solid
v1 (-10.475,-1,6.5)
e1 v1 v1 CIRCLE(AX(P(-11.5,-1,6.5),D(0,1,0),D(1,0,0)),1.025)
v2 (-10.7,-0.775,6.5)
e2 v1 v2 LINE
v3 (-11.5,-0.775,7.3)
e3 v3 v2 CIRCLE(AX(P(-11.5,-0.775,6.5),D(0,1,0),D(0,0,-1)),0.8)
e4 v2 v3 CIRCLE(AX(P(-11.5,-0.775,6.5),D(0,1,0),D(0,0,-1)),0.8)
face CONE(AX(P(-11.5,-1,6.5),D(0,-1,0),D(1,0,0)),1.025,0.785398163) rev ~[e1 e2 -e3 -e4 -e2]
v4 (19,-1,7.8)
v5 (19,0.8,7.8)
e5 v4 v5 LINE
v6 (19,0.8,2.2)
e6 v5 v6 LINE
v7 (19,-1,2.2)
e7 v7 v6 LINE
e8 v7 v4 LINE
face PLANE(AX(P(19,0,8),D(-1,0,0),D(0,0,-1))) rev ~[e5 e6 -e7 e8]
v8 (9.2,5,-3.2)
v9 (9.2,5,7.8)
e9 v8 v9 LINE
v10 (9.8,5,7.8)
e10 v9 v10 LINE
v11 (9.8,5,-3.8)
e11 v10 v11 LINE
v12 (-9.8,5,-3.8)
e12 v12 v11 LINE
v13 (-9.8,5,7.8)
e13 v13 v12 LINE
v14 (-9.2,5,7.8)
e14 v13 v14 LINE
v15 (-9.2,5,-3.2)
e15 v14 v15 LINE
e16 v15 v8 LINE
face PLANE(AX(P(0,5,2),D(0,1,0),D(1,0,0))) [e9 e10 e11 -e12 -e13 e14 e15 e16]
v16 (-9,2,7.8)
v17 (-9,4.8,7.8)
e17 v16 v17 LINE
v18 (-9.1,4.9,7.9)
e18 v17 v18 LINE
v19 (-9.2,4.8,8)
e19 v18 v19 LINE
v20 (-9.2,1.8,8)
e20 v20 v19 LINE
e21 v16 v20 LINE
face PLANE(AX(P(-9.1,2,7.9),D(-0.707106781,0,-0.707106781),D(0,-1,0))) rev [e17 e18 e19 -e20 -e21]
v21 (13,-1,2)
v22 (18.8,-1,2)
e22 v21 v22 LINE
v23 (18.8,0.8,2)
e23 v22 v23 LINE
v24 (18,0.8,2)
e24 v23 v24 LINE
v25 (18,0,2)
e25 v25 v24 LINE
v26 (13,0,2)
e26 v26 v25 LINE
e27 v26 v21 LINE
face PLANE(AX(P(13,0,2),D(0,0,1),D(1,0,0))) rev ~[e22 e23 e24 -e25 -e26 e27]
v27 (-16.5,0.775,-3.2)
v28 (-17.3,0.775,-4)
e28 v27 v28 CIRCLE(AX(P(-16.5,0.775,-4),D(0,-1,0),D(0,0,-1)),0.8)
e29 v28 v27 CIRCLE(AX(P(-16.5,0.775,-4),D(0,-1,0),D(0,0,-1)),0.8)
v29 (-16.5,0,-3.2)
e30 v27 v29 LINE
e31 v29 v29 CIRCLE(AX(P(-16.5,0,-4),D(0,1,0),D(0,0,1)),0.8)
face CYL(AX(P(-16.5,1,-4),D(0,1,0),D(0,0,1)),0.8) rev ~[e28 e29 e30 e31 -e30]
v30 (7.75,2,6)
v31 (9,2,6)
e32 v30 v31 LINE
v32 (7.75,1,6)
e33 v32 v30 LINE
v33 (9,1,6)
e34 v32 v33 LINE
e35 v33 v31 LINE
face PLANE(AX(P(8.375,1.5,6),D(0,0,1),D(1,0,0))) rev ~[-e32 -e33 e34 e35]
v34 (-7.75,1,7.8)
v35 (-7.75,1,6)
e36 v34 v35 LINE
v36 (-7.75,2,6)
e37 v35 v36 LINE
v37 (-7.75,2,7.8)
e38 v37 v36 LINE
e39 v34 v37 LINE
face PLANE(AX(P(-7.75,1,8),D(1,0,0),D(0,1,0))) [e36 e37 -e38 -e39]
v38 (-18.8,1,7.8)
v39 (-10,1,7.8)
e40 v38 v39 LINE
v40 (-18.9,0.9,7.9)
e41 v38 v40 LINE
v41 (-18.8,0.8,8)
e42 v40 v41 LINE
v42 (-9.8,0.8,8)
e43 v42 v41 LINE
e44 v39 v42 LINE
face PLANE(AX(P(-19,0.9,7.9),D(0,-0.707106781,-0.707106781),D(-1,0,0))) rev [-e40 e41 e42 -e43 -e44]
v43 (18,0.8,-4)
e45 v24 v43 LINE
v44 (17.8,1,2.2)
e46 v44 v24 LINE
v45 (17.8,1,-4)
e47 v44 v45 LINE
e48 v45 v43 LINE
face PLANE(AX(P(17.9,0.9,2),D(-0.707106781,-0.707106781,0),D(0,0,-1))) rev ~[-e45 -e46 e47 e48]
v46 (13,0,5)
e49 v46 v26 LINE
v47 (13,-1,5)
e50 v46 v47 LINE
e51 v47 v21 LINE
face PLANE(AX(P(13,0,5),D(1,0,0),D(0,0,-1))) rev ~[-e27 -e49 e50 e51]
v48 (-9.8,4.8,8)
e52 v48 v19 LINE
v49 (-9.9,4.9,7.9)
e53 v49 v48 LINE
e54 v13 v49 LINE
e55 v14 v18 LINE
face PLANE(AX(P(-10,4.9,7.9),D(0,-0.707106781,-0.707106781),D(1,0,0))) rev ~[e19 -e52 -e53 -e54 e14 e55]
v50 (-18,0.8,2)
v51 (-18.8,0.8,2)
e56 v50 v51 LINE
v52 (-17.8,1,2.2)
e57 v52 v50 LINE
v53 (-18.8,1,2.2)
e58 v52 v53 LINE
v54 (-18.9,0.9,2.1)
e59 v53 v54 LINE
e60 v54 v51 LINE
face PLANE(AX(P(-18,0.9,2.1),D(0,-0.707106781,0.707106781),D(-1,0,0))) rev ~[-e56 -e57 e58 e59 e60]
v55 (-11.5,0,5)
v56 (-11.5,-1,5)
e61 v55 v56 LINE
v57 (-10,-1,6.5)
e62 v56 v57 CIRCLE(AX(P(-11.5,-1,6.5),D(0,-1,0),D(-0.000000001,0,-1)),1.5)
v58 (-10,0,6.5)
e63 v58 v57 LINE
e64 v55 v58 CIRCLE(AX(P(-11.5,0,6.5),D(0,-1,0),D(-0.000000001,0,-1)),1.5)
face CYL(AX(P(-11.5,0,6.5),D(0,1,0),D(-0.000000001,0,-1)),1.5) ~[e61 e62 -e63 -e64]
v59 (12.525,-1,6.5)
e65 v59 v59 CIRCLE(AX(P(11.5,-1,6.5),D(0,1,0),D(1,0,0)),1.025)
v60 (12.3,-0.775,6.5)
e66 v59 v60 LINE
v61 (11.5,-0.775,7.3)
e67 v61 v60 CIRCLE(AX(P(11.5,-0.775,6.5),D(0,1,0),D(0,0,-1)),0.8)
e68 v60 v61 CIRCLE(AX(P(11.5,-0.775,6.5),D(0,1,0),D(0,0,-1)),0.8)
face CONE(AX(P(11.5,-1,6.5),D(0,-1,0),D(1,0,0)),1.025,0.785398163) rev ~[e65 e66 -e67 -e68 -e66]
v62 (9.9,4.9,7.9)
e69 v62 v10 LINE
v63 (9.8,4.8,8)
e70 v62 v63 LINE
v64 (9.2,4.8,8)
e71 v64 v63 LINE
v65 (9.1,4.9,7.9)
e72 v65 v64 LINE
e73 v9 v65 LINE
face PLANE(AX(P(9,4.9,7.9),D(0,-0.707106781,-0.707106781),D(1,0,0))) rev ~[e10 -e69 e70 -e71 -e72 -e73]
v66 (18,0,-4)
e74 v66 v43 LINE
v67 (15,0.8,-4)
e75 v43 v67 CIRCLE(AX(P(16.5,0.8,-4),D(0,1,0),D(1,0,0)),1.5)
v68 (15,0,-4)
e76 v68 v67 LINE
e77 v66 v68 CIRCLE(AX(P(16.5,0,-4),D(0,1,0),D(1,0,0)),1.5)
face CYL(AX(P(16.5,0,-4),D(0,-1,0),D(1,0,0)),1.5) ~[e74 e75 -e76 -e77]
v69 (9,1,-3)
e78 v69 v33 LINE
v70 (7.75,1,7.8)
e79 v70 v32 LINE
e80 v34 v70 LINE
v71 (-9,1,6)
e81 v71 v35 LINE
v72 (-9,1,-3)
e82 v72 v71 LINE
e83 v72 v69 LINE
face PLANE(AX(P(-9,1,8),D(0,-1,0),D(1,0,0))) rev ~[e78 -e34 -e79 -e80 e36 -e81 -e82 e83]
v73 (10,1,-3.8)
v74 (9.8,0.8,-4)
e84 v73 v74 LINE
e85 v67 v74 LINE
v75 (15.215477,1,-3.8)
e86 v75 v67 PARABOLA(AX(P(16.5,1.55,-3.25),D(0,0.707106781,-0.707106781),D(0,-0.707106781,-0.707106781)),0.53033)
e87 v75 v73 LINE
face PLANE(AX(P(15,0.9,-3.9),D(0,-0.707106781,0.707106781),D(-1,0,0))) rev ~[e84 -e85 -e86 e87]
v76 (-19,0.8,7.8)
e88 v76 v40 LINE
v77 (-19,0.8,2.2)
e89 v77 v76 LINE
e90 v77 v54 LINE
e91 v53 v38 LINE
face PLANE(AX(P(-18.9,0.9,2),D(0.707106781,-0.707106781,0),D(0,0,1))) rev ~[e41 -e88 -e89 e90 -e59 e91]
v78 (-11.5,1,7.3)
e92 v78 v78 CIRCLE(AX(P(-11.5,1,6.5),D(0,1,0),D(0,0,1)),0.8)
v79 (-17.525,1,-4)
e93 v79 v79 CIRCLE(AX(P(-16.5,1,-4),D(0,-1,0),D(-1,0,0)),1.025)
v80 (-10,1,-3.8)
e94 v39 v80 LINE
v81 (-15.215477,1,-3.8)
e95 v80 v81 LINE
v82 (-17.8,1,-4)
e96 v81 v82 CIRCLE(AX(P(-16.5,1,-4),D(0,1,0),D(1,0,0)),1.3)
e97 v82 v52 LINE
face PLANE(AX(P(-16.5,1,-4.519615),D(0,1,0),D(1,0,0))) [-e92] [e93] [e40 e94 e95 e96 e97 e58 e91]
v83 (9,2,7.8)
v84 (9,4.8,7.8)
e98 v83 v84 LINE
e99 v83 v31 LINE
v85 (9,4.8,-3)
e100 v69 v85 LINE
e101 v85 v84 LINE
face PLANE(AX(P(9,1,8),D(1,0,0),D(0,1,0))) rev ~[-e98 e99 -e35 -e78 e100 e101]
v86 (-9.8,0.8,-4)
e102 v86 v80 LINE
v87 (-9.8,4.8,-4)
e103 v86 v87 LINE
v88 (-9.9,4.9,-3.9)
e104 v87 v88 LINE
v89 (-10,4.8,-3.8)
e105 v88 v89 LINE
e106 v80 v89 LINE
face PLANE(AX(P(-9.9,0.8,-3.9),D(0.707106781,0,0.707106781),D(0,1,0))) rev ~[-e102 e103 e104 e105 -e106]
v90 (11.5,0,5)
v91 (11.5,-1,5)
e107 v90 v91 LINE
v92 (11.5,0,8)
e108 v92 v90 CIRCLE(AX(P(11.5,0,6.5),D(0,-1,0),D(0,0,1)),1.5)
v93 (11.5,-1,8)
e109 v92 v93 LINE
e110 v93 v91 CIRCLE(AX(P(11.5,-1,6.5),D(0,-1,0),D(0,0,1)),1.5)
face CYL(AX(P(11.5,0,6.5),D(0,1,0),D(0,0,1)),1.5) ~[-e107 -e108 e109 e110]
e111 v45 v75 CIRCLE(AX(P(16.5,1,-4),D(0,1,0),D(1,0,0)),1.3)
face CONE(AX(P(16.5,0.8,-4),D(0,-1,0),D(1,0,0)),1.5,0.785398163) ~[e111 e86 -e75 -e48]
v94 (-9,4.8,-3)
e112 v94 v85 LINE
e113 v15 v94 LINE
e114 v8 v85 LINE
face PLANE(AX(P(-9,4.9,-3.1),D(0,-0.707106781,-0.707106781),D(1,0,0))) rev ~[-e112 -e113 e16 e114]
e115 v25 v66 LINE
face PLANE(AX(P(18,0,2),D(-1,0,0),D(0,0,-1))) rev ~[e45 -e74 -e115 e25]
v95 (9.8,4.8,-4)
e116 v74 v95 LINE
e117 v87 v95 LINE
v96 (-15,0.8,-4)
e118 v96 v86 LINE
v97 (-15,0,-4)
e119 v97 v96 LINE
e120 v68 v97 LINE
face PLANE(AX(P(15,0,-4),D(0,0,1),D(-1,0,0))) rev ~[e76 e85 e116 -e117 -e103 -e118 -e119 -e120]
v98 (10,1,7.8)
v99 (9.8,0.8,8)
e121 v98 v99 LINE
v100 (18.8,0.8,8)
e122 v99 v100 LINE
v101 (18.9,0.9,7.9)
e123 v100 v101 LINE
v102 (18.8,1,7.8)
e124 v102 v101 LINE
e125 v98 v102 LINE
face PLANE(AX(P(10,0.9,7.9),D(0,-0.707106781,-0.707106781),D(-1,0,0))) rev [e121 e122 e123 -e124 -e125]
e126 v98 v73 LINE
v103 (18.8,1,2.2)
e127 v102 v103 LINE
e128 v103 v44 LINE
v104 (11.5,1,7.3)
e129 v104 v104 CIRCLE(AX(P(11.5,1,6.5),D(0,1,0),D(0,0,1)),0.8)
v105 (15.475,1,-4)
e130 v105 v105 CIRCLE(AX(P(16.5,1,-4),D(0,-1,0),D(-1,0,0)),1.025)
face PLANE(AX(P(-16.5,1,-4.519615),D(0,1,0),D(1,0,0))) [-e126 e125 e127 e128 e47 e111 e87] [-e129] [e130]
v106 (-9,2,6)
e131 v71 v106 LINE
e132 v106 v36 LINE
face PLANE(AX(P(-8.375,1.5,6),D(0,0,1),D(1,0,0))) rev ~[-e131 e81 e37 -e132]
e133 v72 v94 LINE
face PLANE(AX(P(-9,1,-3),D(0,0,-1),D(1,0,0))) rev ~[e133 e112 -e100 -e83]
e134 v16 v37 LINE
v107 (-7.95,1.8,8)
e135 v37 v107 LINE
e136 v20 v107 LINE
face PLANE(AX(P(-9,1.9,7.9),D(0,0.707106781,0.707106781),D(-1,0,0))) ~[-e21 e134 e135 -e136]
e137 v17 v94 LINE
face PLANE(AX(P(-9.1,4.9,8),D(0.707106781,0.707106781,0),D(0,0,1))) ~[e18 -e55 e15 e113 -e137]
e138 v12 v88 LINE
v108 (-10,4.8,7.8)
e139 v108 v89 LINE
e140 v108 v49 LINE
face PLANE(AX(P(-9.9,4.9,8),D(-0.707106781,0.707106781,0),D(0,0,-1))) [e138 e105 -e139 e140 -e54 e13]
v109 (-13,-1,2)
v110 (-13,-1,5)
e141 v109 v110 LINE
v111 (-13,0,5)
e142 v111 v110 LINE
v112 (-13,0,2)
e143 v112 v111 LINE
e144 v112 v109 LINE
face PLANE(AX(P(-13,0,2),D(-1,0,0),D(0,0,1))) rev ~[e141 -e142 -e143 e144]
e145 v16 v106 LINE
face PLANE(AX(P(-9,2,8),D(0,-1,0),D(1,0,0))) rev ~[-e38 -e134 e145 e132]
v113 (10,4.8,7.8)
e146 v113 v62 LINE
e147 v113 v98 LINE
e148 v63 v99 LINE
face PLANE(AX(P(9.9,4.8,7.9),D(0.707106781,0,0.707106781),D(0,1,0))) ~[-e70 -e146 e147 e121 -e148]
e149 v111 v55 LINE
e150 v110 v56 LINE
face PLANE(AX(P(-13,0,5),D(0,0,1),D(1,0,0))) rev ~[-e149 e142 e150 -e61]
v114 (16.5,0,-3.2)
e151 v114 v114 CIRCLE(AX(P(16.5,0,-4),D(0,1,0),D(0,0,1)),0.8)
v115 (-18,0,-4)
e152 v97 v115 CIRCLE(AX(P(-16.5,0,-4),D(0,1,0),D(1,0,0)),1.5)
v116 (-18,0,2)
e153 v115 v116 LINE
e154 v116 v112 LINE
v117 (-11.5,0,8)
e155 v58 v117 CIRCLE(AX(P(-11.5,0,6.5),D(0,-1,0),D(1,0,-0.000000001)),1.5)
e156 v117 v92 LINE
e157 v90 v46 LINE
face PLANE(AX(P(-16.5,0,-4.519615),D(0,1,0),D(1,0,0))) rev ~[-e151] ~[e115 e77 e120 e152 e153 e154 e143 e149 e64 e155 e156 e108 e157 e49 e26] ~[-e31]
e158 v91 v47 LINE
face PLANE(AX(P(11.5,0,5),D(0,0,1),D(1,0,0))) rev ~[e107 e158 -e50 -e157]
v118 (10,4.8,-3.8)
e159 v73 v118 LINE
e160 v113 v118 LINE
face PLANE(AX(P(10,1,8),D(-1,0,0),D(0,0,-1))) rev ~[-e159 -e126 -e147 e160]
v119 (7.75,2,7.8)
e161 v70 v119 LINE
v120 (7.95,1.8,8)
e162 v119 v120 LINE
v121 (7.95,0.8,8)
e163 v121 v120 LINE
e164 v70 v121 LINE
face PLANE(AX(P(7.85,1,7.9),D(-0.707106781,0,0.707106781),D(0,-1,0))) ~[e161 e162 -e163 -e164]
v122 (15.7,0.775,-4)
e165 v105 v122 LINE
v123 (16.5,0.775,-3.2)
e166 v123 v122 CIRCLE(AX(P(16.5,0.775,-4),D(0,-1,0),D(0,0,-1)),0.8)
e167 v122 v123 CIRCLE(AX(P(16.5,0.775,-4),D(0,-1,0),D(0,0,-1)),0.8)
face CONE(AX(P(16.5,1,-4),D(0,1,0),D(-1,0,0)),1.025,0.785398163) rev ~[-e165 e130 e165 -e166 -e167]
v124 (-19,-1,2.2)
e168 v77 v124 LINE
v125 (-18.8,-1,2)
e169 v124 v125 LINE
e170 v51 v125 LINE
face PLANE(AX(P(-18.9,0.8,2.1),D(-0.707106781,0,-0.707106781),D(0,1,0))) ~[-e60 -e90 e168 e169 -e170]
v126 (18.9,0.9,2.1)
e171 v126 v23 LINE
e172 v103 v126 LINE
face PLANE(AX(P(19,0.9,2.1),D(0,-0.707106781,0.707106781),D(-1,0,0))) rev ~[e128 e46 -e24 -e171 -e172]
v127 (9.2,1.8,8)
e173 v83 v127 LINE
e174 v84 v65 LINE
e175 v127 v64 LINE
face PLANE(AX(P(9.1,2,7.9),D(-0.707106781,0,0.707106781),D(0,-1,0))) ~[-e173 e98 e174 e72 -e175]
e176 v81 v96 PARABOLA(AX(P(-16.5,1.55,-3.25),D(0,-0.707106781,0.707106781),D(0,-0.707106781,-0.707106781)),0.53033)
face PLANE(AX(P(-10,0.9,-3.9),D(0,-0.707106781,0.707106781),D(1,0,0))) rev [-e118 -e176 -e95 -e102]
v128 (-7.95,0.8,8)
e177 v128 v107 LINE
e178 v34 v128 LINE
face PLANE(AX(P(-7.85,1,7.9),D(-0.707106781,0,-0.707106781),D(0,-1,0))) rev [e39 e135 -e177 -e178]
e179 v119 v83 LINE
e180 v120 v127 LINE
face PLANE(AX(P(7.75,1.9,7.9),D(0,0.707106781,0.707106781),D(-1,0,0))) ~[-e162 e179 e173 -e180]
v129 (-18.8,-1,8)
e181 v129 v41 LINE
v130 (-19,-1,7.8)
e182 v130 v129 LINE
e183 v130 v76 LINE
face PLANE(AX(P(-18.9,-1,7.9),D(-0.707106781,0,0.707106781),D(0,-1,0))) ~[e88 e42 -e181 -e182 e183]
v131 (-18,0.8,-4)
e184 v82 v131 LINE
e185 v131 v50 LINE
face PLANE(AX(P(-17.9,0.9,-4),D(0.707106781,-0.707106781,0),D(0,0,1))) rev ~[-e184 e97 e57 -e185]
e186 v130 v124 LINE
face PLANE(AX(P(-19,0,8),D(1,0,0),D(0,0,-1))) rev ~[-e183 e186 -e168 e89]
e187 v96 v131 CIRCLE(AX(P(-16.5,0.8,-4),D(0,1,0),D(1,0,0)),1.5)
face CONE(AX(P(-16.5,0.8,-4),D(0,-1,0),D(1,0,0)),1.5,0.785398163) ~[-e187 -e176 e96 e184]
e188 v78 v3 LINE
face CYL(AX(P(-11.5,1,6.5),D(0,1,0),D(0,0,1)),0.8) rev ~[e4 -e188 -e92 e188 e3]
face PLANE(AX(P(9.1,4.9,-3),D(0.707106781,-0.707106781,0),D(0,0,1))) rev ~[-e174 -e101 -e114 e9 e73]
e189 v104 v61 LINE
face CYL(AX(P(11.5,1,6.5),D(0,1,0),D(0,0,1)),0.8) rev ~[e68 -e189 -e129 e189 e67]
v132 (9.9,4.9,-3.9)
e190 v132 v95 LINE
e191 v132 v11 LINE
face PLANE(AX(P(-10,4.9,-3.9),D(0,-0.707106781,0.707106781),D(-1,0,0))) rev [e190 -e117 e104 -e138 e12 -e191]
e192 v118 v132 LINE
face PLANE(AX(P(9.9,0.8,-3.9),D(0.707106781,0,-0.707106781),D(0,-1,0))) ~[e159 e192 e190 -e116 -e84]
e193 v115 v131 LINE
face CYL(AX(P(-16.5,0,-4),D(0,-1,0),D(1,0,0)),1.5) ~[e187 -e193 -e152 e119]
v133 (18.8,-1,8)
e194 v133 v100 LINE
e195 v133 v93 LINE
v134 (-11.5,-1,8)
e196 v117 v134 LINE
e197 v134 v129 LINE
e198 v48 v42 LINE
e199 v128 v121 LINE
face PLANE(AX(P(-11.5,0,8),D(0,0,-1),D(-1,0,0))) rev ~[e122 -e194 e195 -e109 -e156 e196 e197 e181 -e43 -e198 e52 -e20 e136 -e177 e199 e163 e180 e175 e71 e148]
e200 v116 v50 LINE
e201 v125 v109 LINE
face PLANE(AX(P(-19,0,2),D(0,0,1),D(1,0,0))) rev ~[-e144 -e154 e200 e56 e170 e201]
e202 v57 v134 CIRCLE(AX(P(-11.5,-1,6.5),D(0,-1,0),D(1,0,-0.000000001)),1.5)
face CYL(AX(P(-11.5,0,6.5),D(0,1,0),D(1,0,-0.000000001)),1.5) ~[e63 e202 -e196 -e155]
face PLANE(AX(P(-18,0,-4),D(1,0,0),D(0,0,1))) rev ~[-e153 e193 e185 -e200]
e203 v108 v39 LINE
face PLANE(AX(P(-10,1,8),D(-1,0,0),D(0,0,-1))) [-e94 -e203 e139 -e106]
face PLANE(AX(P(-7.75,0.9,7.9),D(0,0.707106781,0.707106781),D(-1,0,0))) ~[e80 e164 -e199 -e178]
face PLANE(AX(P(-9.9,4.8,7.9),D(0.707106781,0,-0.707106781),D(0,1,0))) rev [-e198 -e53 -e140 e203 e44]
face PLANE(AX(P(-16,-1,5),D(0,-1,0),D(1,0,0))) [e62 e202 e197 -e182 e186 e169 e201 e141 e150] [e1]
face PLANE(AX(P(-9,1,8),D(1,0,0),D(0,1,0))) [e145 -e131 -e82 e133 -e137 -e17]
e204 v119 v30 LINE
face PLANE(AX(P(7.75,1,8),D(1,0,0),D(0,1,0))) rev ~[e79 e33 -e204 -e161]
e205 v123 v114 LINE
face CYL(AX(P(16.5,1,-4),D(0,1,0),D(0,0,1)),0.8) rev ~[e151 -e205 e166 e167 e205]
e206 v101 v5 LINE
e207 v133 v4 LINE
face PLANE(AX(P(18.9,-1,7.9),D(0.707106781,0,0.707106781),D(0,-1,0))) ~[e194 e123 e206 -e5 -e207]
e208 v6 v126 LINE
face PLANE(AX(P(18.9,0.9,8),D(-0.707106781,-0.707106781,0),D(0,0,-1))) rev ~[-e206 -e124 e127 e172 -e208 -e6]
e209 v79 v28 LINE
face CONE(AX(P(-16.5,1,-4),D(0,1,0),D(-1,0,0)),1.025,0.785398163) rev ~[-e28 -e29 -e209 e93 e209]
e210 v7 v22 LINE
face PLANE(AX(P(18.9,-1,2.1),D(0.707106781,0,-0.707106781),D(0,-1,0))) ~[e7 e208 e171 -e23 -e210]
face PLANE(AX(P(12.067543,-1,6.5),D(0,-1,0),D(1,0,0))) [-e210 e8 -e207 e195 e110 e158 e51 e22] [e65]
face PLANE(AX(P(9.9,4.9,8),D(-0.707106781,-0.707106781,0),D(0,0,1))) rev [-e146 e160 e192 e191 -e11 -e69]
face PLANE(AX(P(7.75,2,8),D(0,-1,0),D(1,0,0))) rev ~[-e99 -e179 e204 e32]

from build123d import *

# Parameters (mm, degrees)
SKETCH_1_W                   = 3
SKETCH_1_H                   = 1
SKETCH_1_H_2                 = 2
SKETCH_1_W_2                 = 30
EXTRUDE_1_DEPTH              = 1
SKETCH_2_W                   = 20
SKETCH_2_H                   = 12
SKETCH_2_W_2                 = 18
SKETCH_2_H_2                 = 10
EXTRUDE_4_DEPTH              = 4
SKETCH_8_W                   = 18
SKETCH_8_H                   = 4
CUT_EXTRUDE_2_DEPTH          = 4
SKETCH_9_W                   = 1.25
SKETCH_9_H                   = 1
EXTRUDE_5_DEPTH              = 2
EXTRUDE_6_DEPTH              = 1
HOLE_WIZARD_M2_1_D           = 1.6
HOLE_WIZARD_M2_1_DEPTH       = 5.5
HOLE_WIZARD_M2_1_CSINK_D     = 2.05
HOLE_WIZARD_M2_1_CSINK_ANGLE = 90
HOLE_WIZARD_M2_1_TIP         = 0.480688495
HOLE_WIZARD_M2_2_D           = 1.6
HOLE_WIZARD_M2_2_CSINK_D     = 2.05
HOLE_WIZARD_M2_2_CSINK_ANGLE = 90
CHAMFER_1_SIZE               = 0.2
CHAMFER_2_SIZE               = 0.2
CHAMFER_3_SIZE               = 0.2
CHAMFER_4_SIZE               = 0.2
CHAMFER_5_SIZE               = 0.2
SKETCH_16_R                  = 0.8
EXTRUDE_7_DEPTH              = 3
SKETCH_17_R                  = 0.8
CUT_EXTRUDE_3_DEPTH          = 22


with BuildPart() as part:
    # 草图1 → 凸台-拉伸1 (new body)
    with BuildSketch(Plane(origin=(0, 0, 0), x_dir=(1, 0, 0), z_dir=(0, 1, 0))):
        with BuildLine():
            ThreePointArc((-15, 4), (-16.5, 5.5), (-18, 4))
            Line((-18, 4), (-15, 4))
        make_face()
        with BuildLine():
            ThreePointArc((-15, 4), (-16.5, 2.5), (-18, 4))
            Line((-18, 4), (-18, -1))
            Line((-18, -1), (-15, -1))
            Line((-15, -1), (-15, -2))
            Line((-15, -2), (15, -2))
            Line((15, -2), (15, -1))
            Line((15, -1), (18, -1))
            Line((18, -1), (18, 4))
            ThreePointArc((18, 4), (16.5, 2.5), (15, 4))
            Line((15, 4), (-15, 4))
        make_face()
        with BuildLine():
            Line((-15, 4), (-18, 4))
            ThreePointArc((-18, 4), (-16.5, 2.5), (-15, 4))
        make_face()
        with Locations((-16.5, -1.5)):
            Rectangle(SKETCH_1_W, SKETCH_1_H)
        with BuildLine():
            ThreePointArc((18, 4), (16.5, 5.5), (15, 4))
            Line((15, 4), (18, 4))
        make_face()
        with BuildLine():
            Line((18, 4), (15, 4))
            ThreePointArc((15, 4), (16.5, 2.5), (18, 4))
        make_face()
        with Locations((-16.5, -3)):
            Rectangle(SKETCH_1_W, SKETCH_1_H_2)
        Polygon((-18, -4), (-18, -2), (-19, -2), (-19, -8), (19, -8), (19, -2), (18, -2), (18, -4), (15, -4), (-15, -4), align=None)
        with Locations((0, -3)):
            Rectangle(SKETCH_1_W_2, SKETCH_1_H_2)
        with Locations((16.5, -1.5)):
            Rectangle(SKETCH_1_W, SKETCH_1_H)
        with Locations((16.5, -3)):
            Rectangle(SKETCH_1_W, SKETCH_1_H_2)
    extrude(amount=EXTRUDE_1_DEPTH)

    # 草图2 → 凸台-拉伸4 (add)
    with BuildSketch(Plane(origin=(0, 1, 0), x_dir=(1, 0, 0), z_dir=(0, 1, 0))):
        with Locations((0, -2)):
            Rectangle(SKETCH_2_W, SKETCH_2_H)
        with Locations((0, -2)):
            Rectangle(SKETCH_2_W_2, SKETCH_2_H_2, mode=Mode.SUBTRACT)
    extrude(amount=EXTRUDE_4_DEPTH)

    # 草图8 → 切除-拉伸2 (cut)
    with BuildSketch(Plane.XY.offset(8)):
        with Locations((0, 3)):
            Rectangle(SKETCH_8_W, SKETCH_8_H)
    extrude(amount=-CUT_EXTRUDE_2_DEPTH, mode=Mode.SUBTRACT)

    # 草图9 → 凸台-拉伸5 (add)
    with BuildSketch(Plane.XY.offset(8)):
        with Locations((-8.375, 1.5)):
            Rectangle(SKETCH_9_W, SKETCH_9_H)
        with Locations((8.375, 1.5)):
            Rectangle(SKETCH_9_W, SKETCH_9_H)
    extrude(amount=-EXTRUDE_5_DEPTH)

    # 草图10 → 凸台-拉伸6 (add)
    with BuildSketch(Plane.XZ):
        Polygon((-13, 8), (-19, 8), (-19, 2), (-18, 2), (-13, 2), (-13, 5), (-13, 6.5), align=None)
        with BuildLine():
            ThreePointArc((-11.5, 5), (-12.560660172, 5.439339828), (-13, 6.5))
            Line((-13, 6.5), (-13, 5))
            Line((-13, 5), (-11.5, 5))
        make_face()
        with BuildLine():
            ThreePointArc((-11.5, 8), (-12.560660172, 7.560660172), (-13, 6.5))
            ThreePointArc((-13, 6.5), (-12.560660172, 5.439339828), (-11.5, 5))
            Line((-11.5, 5), (-11.5, 8))
        make_face()
        with BuildLine():
            ThreePointArc((-10, 6.5), (-10.439339828, 7.560660172), (-11.5, 8))
            Line((-11.5, 8), (-11.5, 5))
            ThreePointArc((-11.5, 5), (-10.439339828, 5.439339828), (-10, 6.5))
        make_face()
        with BuildLine():
            Line((-11.5, 8), (-13, 8))
            Line((-13, 8), (-13, 6.5))
            ThreePointArc((-13, 6.5), (-12.560660172, 7.560660172), (-11.5, 8))
        make_face()
        with BuildLine():
            ThreePointArc((13, 6.5), (12.560660172, 7.560660172), (11.5, 8))
            Line((11.5, 8), (11.5, 5))
            ThreePointArc((11.5, 5), (12.560660172, 5.439339828), (13, 6.5))
        make_face()
        with BuildLine():
            Line((11.5, 5), (11.5, 8))
            ThreePointArc((11.5, 8), (10, 6.5), (11.5, 5))
        make_face()
        with BuildLine():
            Line((13, 8), (11.5, 8))
            ThreePointArc((11.5, 8), (12.560660172, 7.560660172), (13, 6.5))
            Line((13, 6.5), (13, 8))
        make_face()
        with BuildLine():
            ThreePointArc((13, 6.5), (12.560660172, 5.439339828), (11.5, 5))
            Line((11.5, 5), (13, 5))
            Line((13, 5), (13, 6.5))
        make_face()
        Polygon((19, 8), (13, 8), (13, 6.5), (13, 5), (13, 2), (18, 2), (19, 2), align=None)
    extrude(amount=EXTRUDE_6_DEPTH)

    # M2 螺纹孔1
    with Locations(Plane(origin=(0, 1, 0), x_dir=(1, 0, 0), z_dir=(0, 1, 0))):
        with Locations((-16.5, 4), (16.5, 4)):
            CounterSinkHole(HOLE_WIZARD_M2_1_D / 2, HOLE_WIZARD_M2_1_CSINK_D / 2, depth=HOLE_WIZARD_M2_1_DEPTH, counter_sink_angle=HOLE_WIZARD_M2_1_CSINK_ANGLE)
            with Locations((0, 0, -(HOLE_WIZARD_M2_1_DEPTH + HOLE_WIZARD_M2_1_TIP / 2))):  # 118° drill point
                Cone(0, HOLE_WIZARD_M2_1_D / 2, HOLE_WIZARD_M2_1_TIP, mode=Mode.SUBTRACT)

    # M2 螺纹孔2 (through all)
    with Locations(Plane(origin=(0, -1, 0), x_dir=(-1, 0, 0), z_dir=(0, -1, 0))):
        with Locations((11.5, -6.5), (-11.5, -6.5)):
            CounterSinkHole(HOLE_WIZARD_M2_2_D / 2, HOLE_WIZARD_M2_2_CSINK_D / 2, counter_sink_angle=HOLE_WIZARD_M2_2_CSINK_ANGLE)

    # 倒角1
    chamfer_1_edges = [part.edges().sort_by_distance(p)[0] for p in [
        (-10, 5, 2),
        (-9.5, 5, 8),
        (10, 5, 2),
        (0, 5, -4),
        (0, 5, -3),
        (-9, 5, 2.5),
        (9, 5, 2.5),
        (9.5, 5, 8),
    ]]
    chamfer(chamfer_1_edges, length=CHAMFER_1_SIZE)

    # 倒角2
    chamfer_2_edges = [part.edges().sort_by_distance(p)[0] for p in [
        (-18, 1, -1),
        (-18.5, 1, 2),
        (-19, 1, 5),
        (-14.5, 1, 8),
        (19, 1, 5),
        (18.5, 1, 2),
        (12.5, 1, -4),
        (14.5, 1, 8),
        (18, 1, -1),
        (-12.5, 1, -4),
        (16.5, 1, -5.5),
        (-16.5, 1, -5.5),
    ]]
    chamfer(chamfer_2_edges, length=CHAMFER_2_SIZE)

    # 倒角3
    chamfer_3_edges = [part.edges().sort_by_distance(p)[0] for p in [
        (7.75, 1.5, 8),
        (-9, 3.4, 8),
        (-10, 2.8, 8),
        (10, 2.8, 8),
        (0, 1, 8),
        (-7.75, 1.5, 8),
        (-8.375, 2, 8),
        (9, 3.4, 8),
        (8.375, 2, 8),
    ]]
    chamfer(chamfer_3_edges, length=CHAMFER_3_SIZE)

    # 倒角4
    chamfer_4_edges = [part.edges().sort_by_distance(p)[0] for p in [
        (-19, -0.1, 8),
        (19, -0.1, 8),
        (-19, -0.1, 2),
        (19, -0.1, 2),
    ]]
    chamfer(chamfer_4_edges, length=CHAMFER_4_SIZE)

    # 倒角5
    chamfer_5_edges = [part.edges().sort_by_distance(p)[0] for p in [
        (-10, 2.8, -4),
        (10, 2.8, -4),
    ]]
    chamfer(chamfer_5_edges, length=CHAMFER_5_SIZE)

    # 草图16 → 凸台-拉伸7 (add)
    with BuildSketch(Plane(origin=(0, 1, 0), x_dir=(1, 0, 0), z_dir=(0, 1, 0))):
        with Locations(Location((16.5, 4, 0), (0, 0, 270))):
            Circle(SKETCH_16_R)
        with Locations(Location((11.5, -6.5, 0), (0, 0, 270))):
            Circle(SKETCH_16_R)
        with Locations(Location((-11.5, -6.5, 0), (0, 0, 270))):
            Circle(SKETCH_16_R)
        with Locations(Location((-16.5, 4, 0), (0, 0, 270))):
            Circle(SKETCH_16_R)
    extrude(amount=-EXTRUDE_7_DEPTH)

    # 草图17 → 切除-拉伸3 (cut, through all)
    with BuildSketch(Plane(origin=(0, 1, 0), x_dir=(1, 0, 0), z_dir=(0, 1, 0))):
        with Locations(Location((-16.5, 4, 0), (0, 0, 270))):
            Circle(SKETCH_17_R)
        with Locations(Location((-11.5, -6.5, 0), (0, 0, 270))):
            Circle(SKETCH_17_R)
        with Locations(Location((11.5, -6.5, 0), (0, 0, 270))):
            Circle(SKETCH_17_R)
        with Locations(Location((16.5, 4, 0), (0, 0, 270))):
            Circle(SKETCH_17_R)
    extrude(amount=-CUT_EXTRUDE_3_DEPTH, mode=Mode.SUBTRACT)


solid = part.part
